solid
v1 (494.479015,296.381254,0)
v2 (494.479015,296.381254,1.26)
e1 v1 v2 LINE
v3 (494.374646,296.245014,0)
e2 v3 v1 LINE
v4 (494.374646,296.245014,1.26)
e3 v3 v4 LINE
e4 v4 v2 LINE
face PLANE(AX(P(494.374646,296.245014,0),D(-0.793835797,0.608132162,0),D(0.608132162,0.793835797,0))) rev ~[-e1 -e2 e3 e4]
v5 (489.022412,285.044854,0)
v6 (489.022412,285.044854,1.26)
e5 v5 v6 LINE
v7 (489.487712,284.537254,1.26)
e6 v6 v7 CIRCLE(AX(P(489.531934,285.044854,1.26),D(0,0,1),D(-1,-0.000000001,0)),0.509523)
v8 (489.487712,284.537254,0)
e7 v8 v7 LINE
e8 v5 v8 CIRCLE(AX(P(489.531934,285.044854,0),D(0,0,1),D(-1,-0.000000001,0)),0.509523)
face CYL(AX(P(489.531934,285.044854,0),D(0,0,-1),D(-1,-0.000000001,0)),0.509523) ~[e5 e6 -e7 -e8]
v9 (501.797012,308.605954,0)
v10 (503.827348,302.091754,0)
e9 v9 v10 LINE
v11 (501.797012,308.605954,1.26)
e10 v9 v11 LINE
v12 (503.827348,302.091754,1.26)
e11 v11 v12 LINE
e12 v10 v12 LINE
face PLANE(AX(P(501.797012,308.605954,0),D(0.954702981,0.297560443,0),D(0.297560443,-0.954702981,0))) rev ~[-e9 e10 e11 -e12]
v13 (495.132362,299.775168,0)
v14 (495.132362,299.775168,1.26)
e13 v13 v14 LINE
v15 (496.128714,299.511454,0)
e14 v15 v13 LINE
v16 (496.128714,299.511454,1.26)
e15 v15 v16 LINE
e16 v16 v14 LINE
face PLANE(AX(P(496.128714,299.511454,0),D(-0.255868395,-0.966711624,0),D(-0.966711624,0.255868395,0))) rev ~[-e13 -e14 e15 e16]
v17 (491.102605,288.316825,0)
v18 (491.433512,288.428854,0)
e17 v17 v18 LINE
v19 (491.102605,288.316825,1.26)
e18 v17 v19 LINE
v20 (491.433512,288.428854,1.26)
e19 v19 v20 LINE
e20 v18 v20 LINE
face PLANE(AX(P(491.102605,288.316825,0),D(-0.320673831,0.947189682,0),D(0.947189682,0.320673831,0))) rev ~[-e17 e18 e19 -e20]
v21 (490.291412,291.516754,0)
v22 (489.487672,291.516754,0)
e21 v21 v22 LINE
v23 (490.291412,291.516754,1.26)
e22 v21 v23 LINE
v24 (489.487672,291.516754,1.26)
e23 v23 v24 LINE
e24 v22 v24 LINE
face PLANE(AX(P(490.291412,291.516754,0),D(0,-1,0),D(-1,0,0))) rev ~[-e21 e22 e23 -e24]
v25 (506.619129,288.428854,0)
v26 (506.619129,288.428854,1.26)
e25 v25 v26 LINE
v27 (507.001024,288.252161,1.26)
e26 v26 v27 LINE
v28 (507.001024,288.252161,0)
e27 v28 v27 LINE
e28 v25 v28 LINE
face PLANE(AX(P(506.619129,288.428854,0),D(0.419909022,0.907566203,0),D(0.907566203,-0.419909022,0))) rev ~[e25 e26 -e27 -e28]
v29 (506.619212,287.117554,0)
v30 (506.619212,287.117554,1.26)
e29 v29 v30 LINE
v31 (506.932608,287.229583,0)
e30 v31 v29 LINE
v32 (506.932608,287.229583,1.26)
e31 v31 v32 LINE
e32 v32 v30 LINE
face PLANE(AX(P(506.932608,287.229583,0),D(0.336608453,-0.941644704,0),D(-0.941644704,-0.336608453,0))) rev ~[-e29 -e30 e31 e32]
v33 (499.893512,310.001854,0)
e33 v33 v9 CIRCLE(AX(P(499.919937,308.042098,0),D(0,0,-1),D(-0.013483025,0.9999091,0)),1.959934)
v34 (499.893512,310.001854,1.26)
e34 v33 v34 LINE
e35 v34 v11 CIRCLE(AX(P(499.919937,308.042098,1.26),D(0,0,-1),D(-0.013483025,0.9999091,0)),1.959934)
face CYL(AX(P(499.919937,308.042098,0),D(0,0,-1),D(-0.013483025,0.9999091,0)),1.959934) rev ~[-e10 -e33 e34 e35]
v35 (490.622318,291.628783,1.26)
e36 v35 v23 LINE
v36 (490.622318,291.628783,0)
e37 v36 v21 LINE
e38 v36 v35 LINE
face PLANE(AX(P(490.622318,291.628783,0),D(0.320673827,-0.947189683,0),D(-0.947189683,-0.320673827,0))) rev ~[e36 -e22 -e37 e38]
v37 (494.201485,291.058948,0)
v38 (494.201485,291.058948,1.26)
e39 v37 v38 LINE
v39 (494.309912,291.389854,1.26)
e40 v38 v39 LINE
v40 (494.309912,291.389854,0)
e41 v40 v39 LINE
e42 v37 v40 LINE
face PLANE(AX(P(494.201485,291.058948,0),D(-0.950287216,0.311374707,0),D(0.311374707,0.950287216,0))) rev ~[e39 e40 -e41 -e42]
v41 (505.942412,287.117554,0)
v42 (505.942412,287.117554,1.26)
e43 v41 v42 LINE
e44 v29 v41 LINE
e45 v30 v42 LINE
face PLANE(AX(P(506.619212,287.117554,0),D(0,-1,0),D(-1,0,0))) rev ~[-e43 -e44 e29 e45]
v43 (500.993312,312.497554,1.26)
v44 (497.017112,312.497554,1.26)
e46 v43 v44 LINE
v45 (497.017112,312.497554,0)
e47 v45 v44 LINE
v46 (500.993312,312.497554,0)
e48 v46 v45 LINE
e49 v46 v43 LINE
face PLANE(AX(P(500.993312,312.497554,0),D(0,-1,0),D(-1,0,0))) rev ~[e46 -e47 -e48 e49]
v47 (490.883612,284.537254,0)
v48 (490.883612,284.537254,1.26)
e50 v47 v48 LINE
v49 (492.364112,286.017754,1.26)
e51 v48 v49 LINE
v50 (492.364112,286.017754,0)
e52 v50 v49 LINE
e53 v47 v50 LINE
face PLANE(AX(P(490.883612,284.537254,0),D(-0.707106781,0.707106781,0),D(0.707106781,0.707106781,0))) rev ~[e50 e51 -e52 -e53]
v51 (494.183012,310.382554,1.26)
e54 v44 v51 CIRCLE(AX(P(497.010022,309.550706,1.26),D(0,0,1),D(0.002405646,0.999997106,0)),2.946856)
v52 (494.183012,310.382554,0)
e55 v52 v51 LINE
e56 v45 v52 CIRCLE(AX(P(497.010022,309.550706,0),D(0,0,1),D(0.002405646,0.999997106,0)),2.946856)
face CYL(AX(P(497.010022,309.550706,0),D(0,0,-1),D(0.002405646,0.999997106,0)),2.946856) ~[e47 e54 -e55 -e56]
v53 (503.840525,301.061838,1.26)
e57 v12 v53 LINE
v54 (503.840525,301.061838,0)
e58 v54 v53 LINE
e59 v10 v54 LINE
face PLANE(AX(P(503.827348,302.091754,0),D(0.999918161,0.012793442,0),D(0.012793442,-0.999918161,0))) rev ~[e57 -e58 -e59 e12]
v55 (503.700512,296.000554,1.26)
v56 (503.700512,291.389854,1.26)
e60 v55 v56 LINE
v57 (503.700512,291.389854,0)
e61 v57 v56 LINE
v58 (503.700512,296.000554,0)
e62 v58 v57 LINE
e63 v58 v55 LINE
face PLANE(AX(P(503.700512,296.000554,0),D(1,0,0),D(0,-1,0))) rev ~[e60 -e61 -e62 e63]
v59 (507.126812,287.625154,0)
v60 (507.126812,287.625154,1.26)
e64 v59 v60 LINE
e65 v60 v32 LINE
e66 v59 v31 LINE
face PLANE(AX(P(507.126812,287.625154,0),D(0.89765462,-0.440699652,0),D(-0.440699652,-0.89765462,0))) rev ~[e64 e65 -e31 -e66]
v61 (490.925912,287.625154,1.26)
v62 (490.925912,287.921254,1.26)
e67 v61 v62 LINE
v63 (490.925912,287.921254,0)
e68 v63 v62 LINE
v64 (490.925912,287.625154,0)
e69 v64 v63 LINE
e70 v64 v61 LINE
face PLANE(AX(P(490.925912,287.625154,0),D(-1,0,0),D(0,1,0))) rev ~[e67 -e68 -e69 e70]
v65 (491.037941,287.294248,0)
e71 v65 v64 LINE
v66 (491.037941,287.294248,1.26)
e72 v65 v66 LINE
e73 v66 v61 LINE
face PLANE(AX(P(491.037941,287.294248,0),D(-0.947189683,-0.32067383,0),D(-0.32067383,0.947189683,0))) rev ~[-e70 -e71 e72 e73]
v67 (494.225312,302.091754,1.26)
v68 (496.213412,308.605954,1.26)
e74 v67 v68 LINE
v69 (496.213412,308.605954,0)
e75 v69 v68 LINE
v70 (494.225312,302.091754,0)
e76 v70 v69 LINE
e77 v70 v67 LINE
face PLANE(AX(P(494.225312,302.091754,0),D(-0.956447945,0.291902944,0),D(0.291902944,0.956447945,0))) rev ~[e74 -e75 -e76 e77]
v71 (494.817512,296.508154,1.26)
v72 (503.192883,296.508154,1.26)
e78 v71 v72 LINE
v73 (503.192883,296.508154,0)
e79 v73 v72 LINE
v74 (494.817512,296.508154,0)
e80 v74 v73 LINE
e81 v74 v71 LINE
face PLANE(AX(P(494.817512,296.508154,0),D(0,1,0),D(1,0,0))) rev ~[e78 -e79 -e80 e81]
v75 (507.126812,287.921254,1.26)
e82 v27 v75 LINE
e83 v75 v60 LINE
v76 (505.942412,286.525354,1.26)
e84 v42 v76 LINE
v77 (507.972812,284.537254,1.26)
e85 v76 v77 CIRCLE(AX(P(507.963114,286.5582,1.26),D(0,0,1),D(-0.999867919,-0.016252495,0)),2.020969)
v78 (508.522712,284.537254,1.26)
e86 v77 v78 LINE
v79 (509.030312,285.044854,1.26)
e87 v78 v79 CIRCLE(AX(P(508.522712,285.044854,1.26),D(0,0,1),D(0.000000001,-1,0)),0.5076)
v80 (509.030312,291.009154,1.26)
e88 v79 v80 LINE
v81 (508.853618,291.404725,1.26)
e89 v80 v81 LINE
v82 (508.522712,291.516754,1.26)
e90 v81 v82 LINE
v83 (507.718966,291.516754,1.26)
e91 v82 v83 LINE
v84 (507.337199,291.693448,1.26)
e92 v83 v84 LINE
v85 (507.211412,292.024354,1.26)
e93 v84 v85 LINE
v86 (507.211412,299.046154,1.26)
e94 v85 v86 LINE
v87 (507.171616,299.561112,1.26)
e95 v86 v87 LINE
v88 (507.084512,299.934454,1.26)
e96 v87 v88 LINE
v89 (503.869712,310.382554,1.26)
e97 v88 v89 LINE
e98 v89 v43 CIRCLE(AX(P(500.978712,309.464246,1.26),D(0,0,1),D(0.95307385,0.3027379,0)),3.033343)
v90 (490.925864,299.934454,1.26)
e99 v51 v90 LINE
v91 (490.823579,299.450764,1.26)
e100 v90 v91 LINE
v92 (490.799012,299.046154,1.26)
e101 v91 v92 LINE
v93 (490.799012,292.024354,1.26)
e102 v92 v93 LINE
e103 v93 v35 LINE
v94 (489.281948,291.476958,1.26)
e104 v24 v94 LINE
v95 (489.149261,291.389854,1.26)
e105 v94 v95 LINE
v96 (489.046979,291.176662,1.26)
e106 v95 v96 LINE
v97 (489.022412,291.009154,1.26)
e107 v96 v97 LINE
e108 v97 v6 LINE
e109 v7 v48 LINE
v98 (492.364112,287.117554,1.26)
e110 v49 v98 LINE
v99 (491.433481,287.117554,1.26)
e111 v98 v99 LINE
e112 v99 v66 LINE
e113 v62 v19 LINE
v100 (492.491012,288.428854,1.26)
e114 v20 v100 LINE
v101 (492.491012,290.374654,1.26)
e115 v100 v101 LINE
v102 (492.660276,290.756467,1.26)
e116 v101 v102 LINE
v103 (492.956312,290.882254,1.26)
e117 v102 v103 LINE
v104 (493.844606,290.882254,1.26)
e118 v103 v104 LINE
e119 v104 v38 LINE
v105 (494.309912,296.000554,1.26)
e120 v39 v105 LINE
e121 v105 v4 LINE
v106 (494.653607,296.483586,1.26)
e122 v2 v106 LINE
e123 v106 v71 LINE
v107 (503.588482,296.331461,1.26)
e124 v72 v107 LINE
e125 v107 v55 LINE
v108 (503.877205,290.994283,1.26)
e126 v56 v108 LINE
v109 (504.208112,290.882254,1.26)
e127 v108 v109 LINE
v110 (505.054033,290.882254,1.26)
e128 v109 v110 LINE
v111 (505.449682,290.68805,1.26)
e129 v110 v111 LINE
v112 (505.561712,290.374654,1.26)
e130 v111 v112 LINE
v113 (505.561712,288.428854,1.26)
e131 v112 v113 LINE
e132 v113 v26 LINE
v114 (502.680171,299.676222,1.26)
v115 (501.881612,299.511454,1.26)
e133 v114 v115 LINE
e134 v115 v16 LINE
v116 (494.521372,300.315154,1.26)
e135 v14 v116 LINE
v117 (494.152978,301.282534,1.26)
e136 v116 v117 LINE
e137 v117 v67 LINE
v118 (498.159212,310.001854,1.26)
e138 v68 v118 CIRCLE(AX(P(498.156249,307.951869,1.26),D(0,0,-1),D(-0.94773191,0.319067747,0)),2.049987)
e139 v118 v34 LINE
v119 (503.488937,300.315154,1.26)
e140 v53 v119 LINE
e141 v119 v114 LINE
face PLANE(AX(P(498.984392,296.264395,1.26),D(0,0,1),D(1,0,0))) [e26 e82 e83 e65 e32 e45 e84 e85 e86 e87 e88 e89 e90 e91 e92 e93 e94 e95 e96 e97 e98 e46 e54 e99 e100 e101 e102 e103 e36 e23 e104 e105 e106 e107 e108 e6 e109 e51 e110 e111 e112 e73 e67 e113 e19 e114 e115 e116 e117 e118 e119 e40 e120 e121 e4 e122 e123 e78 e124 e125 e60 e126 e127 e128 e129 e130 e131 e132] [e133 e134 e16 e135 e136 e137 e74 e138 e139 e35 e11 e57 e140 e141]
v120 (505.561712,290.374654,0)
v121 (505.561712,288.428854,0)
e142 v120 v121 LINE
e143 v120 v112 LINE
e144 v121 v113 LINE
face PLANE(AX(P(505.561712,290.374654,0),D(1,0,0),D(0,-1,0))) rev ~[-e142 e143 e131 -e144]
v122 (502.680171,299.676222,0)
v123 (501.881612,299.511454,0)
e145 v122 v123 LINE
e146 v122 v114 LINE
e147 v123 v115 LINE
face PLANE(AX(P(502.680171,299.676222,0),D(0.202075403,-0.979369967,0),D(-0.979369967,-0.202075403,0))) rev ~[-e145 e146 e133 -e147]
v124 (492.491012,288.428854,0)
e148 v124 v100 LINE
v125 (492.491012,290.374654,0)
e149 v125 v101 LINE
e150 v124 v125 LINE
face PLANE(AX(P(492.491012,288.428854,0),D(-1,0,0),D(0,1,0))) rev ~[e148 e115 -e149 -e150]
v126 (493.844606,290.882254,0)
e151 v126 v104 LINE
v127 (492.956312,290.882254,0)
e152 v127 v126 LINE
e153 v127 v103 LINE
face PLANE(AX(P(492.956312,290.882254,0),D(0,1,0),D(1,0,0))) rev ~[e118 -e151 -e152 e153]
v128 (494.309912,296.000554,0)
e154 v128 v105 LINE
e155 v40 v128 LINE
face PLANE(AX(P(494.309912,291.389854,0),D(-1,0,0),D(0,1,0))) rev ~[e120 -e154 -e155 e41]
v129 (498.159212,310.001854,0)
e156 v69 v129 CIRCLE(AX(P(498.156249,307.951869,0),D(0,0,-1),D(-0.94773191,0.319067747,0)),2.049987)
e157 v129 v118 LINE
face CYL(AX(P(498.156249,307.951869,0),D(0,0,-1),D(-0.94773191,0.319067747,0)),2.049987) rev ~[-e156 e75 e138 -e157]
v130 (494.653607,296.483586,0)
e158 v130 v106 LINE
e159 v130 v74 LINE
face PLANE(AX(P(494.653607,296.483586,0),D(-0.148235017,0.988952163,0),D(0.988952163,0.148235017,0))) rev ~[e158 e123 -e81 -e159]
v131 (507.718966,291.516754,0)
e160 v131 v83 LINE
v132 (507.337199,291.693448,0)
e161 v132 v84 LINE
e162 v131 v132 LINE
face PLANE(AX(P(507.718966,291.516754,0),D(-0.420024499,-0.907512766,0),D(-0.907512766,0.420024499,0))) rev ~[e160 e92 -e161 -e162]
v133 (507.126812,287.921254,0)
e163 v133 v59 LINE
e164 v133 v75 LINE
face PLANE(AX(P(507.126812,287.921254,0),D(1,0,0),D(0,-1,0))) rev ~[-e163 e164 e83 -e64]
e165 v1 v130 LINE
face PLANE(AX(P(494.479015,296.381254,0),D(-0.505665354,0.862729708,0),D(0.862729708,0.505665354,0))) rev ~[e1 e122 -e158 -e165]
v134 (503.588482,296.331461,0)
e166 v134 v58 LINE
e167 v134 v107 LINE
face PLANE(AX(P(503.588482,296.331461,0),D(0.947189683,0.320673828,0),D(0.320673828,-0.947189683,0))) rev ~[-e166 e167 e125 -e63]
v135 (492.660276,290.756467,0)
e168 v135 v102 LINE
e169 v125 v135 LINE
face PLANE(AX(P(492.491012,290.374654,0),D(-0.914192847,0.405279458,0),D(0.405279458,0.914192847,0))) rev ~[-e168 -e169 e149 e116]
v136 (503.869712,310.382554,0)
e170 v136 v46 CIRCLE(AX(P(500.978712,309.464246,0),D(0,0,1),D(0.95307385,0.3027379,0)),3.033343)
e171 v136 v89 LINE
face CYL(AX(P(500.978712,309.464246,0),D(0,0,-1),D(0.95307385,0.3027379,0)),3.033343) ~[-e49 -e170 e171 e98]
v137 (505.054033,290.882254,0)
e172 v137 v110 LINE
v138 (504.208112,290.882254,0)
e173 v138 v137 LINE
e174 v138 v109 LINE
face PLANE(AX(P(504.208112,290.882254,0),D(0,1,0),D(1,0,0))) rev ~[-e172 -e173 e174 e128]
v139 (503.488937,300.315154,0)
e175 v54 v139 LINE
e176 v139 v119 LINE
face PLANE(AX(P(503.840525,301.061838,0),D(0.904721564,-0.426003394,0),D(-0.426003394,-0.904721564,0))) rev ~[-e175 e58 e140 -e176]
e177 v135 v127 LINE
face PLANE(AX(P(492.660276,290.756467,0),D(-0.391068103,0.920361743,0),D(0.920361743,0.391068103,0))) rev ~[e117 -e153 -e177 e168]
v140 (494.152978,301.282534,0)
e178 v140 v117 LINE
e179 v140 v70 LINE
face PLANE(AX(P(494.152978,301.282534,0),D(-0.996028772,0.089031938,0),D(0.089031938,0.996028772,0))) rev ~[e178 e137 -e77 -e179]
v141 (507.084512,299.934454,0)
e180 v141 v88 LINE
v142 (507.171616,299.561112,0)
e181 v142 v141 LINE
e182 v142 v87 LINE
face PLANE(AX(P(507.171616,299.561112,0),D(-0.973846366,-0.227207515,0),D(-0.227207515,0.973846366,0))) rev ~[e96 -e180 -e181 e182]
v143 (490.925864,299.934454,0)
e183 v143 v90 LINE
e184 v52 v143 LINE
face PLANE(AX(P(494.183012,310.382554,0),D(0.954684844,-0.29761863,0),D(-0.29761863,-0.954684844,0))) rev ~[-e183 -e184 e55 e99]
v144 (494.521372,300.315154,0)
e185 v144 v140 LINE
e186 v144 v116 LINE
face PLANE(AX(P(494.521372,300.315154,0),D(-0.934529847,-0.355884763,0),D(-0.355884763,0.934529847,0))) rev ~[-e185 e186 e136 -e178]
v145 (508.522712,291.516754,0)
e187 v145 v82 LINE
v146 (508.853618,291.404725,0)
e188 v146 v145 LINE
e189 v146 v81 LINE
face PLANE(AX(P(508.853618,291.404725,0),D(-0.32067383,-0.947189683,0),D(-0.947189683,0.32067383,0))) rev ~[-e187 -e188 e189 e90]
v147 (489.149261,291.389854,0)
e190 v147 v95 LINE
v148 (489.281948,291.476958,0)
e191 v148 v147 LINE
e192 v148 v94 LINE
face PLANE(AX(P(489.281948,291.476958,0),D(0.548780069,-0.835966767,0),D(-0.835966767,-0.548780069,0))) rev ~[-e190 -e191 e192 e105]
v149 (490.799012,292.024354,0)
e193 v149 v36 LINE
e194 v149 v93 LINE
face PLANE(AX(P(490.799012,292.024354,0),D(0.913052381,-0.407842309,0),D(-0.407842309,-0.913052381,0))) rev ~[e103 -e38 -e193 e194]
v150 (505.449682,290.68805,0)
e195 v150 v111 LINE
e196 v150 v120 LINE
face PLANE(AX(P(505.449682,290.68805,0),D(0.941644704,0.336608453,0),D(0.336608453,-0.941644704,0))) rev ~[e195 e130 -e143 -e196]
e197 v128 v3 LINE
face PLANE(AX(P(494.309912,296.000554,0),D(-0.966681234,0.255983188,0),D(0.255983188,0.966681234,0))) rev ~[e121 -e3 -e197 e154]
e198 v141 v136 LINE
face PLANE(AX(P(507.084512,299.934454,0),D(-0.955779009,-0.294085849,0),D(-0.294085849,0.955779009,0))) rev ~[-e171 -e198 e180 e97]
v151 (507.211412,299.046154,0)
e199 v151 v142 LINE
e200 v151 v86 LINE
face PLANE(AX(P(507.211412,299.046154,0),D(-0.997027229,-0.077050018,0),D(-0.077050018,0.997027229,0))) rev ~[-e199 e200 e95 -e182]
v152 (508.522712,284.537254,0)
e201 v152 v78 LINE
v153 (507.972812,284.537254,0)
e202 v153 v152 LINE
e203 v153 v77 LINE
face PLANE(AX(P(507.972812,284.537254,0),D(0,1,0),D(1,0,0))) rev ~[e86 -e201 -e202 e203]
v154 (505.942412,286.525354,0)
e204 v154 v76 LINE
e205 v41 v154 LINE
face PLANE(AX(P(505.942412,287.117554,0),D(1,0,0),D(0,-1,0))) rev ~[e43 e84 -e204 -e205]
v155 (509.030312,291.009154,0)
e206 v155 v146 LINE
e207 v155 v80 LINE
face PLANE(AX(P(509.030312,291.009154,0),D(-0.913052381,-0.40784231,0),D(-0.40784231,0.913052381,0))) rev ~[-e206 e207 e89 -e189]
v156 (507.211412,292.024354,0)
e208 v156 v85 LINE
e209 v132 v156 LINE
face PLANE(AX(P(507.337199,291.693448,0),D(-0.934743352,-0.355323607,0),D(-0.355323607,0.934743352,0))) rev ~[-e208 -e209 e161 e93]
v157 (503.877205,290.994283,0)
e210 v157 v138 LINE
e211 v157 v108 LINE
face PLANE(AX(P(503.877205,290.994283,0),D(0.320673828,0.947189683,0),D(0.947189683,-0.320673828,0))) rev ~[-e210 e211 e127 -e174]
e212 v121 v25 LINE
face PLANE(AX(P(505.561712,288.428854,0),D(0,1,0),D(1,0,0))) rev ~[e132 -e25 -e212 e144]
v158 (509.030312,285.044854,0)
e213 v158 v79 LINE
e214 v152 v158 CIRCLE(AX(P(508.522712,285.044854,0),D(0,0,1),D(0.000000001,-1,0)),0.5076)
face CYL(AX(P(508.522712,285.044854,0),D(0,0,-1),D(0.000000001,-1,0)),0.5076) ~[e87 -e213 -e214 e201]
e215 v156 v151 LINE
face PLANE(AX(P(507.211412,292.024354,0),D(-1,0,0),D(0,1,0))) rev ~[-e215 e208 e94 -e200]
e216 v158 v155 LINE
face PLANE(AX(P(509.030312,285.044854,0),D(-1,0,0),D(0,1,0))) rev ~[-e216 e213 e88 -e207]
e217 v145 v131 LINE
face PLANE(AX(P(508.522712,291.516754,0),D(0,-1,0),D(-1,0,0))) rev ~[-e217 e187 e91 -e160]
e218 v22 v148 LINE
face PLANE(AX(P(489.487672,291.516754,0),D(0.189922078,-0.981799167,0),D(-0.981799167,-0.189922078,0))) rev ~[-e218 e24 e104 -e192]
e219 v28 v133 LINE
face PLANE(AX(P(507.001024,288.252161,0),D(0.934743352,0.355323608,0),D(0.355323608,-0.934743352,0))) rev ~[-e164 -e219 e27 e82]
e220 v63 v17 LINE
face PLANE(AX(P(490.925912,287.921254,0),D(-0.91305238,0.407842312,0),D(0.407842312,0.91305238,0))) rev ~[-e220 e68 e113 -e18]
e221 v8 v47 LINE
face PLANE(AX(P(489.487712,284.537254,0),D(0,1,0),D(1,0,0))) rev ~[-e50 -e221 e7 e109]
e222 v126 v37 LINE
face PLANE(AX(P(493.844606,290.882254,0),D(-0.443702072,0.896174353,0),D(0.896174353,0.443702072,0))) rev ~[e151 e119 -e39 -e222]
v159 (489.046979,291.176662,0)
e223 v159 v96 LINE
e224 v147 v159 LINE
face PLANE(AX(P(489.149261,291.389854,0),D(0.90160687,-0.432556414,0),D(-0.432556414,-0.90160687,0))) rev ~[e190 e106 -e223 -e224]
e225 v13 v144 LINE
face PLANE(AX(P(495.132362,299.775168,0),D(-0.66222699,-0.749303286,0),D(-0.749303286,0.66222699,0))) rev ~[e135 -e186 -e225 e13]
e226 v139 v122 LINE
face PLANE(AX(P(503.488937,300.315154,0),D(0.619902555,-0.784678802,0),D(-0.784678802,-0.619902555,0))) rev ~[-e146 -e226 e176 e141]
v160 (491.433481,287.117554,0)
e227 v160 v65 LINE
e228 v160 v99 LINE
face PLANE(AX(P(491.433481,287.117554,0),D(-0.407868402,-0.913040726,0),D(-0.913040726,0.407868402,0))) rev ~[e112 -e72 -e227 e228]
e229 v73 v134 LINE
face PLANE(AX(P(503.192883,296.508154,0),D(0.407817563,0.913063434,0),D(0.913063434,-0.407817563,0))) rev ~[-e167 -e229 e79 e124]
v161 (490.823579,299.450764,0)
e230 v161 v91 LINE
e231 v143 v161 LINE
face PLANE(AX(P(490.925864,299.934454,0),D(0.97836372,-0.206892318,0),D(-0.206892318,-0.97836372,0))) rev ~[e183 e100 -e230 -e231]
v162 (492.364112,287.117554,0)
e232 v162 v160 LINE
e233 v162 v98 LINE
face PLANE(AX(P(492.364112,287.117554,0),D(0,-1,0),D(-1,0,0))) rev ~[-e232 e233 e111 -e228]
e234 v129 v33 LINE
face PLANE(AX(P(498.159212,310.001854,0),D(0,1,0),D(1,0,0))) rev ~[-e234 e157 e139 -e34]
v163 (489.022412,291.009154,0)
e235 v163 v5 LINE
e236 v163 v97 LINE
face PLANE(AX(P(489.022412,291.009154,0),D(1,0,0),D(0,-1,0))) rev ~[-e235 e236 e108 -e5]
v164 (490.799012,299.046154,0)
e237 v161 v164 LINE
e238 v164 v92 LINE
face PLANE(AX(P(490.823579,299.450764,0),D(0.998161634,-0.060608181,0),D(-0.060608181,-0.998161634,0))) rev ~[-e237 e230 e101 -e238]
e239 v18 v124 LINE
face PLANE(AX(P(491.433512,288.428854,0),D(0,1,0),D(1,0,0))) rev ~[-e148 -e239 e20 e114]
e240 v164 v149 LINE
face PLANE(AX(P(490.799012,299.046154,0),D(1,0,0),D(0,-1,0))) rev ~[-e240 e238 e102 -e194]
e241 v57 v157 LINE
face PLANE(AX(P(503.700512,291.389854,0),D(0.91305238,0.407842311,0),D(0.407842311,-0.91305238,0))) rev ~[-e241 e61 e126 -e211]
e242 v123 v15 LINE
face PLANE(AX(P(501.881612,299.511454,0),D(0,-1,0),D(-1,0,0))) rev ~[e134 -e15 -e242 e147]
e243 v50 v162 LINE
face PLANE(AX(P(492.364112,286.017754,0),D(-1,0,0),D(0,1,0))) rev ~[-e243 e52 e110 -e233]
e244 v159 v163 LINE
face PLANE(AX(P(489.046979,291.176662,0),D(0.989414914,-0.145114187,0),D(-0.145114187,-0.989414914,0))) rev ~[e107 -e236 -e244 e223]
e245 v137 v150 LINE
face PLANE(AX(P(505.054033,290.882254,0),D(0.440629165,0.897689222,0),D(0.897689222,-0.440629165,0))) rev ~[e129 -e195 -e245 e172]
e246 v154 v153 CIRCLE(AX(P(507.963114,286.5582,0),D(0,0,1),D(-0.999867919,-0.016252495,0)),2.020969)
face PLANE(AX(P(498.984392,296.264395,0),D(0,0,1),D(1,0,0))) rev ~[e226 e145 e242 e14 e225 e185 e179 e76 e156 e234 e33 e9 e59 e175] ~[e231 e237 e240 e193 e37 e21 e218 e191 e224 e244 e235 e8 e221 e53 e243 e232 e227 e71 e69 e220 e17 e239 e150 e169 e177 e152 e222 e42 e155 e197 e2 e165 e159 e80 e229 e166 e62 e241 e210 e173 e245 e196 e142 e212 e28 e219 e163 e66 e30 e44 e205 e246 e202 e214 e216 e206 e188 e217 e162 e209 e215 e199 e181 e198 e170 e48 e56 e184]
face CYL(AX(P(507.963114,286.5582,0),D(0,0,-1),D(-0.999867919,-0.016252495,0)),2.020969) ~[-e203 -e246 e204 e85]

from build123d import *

# Parameters (mm, degrees)
EXTRUDE_1_DEPTH = 1.26


with BuildPart() as part:
    # Model → 凸台-拉伸1 (new body)
    with BuildSketch(Plane.XY):
        with BuildLine():
            Line((490.799011507, 297.269554061), (490.799011507, 293.800954061))
            Line((490.799011507, 293.800954061), (490.799011507, 292.024354061))
            Line((490.799011507, 292.024354061), (490.622317978, 291.628783411))
            Line((490.622317978, 291.628783411), (490.291411507, 291.516754061))
            Line((490.291411507, 291.516754061), (489.487672027, 291.516754061))
            Line((489.487672027, 291.516754061), (489.281948064, 291.476958221))
            Line((489.281948064, 291.476958221), (489.149260696, 291.389854061))
            Line((489.149260696, 291.389854061), (489.046979347, 291.176662061))
            Line((489.046979347, 291.176662061), (489.022411507, 291.009154061))
            Line((489.022411507, 291.009154061), (489.022411507, 285.044854061))
            ThreePointArc((489.022411507, 285.044854061), (489.156337447, 284.700557005), (489.487711507, 284.537254061))
            Line((489.487711507, 284.537254061), (490.883611507, 284.537254061))
            Line((490.883611507, 284.537254061), (492.364111507, 286.017754061))
            Line((492.364111507, 286.017754061), (492.364111507, 287.117554061))
            Line((492.364111507, 287.117554061), (491.433481153, 287.117554061))
            Line((491.433481153, 287.117554061), (491.037940858, 287.29424759))
            Line((491.037940858, 287.29424759), (490.925911507, 287.625154061))
            Line((490.925911507, 287.625154061), (490.925911507, 287.921254061))
            Line((490.925911507, 287.921254061), (491.102605037, 288.31682471))
            Line((491.102605037, 288.31682471), (491.433511507, 288.428854061))
            Line((491.433511507, 288.428854061), (492.491011507, 288.428854061))
            Line((492.491011507, 288.428854061), (492.491011507, 290.374654061))
            Line((492.491011507, 290.374654061), (492.66027648, 290.75646672))
            Line((492.66027648, 290.75646672), (492.956311507, 290.882254061))
            Line((492.956311507, 290.882254061), (493.84460586, 290.882254061))
            Line((493.84460586, 290.882254061), (494.20148544, 291.05894759))
            Line((494.20148544, 291.05894759), (494.309911507, 291.389854061))
            Line((494.309911507, 291.389854061), (494.309911507, 296.000554061))
            Line((494.309911507, 296.000554061), (494.374646074, 296.245014221))
            Line((494.374646074, 296.245014221), (494.479015049, 296.381254061))
            Line((494.479015049, 296.381254061), (494.65360679, 296.483586221))
            Line((494.65360679, 296.483586221), (494.817511507, 296.508154061))
            Line((494.817511507, 296.508154061), (503.192882713, 296.508154061))
            Line((503.192882713, 296.508154061), (503.588482157, 296.331460531))
            Line((503.588482157, 296.331460531), (503.700511507, 296.000554061))
            Line((503.700511507, 296.000554061), (503.700511507, 291.389854061))
            Line((503.700511507, 291.389854061), (503.877205037, 290.994283411))
            Line((503.877205037, 290.994283411), (504.208111507, 290.882254061))
            Line((504.208111507, 290.882254061), (505.054032978, 290.882254061))
            Line((505.054032978, 290.882254061), (505.449682157, 290.688050362))
            Line((505.449682157, 290.688050362), (505.561711507, 290.374654061))
            Line((505.561711507, 290.374654061), (505.561711507, 288.428854061))
            Line((505.561711507, 288.428854061), (506.619129356, 288.428854061))
            Line((506.619129356, 288.428854061), (507.001024166, 288.252160531))
            Line((507.001024166, 288.252160531), (507.126811507, 287.921254061))
            Line((507.126811507, 287.921254061), (507.126811507, 287.625154061))
            Line((507.126811507, 287.625154061), (506.932607808, 287.229583411))
            Line((506.932607808, 287.229583411), (506.619211507, 287.117554061))
            Line((506.619211507, 287.117554061), (505.942411507, 287.117554061))
            Line((505.942411507, 287.117554061), (505.942411507, 286.525354055))
            ThreePointArc((505.942411507, 286.525354055), (506.549193576, 285.114196381), (507.972811507, 284.537254055))
            Line((507.972811507, 284.537254055), (508.522711502, 284.537254055))
            ThreePointArc((508.522711502, 284.537254055), (508.881638908, 284.685926655), (509.030311507, 285.044854061))
            Line((509.030311507, 285.044854061), (509.030311507, 291.009154061))
            Line((509.030311507, 291.009154061), (508.853617978, 291.40472471))
            Line((508.853617978, 291.40472471), (508.522711507, 291.516754061))
            Line((508.522711507, 291.516754061), (507.718966182, 291.516754061))
            Line((507.718966182, 291.516754061), (507.337198848, 291.69344759))
            Line((507.337198848, 291.69344759), (507.211411507, 292.024354061))
            Line((507.211411507, 292.024354061), (507.211411507, 299.046154061))
            Line((507.211411507, 299.046154061), (507.171615667, 299.56111223))
            Line((507.171615667, 299.56111223), (507.084511507, 299.934454061))
            Line((507.084511507, 299.934454061), (503.869711507, 310.382554061))
            ThreePointArc((503.869711507, 310.382554061), (502.775635028, 311.908062049), (500.993311507, 312.497554061))
            Line((500.993311507, 312.497554061), (497.017111507, 312.497554061))
            ThreePointArc((497.017111507, 312.497554061), (495.247553689, 311.912414538), (494.183011507, 310.382554061))
            Line((494.183011507, 310.382554061), (490.925864157, 299.934454061))
            Line((490.925864157, 299.934454061), (490.823579347, 299.450764051))
            Line((490.823579347, 299.450764051), (490.799011507, 299.046154061))
            Line((490.799011507, 299.046154061), (490.799011507, 297.269554061))
        make_face()
        with BuildLine():
            Line((499.005211507, 310.001854061), (499.893511507, 310.001854061))
            ThreePointArc((499.893511507, 310.001854061), (501.078970997, 309.62259882), (501.797011507, 308.605954061))
            Line((501.797011507, 308.605954061), (503.827347931, 302.091754061))
            Line((503.827347931, 302.091754061), (503.840525184, 301.061837722))
            Line((503.840525184, 301.061837722), (503.4889366, 300.315154061))
            Line((503.4889366, 300.315154061), (502.680170534, 299.676222374))
            Line((502.680170534, 299.676222374), (501.881611507, 299.511454061))
            Line((501.881611507, 299.511454061), (499.005211507, 299.511454061))
            Line((499.005211507, 299.511454061), (496.12871426, 299.511454061))
            Line((496.12871426, 299.511454061), (495.132361574, 299.775167827))
            Line((495.132361574, 299.775167827), (494.521372494, 300.315154061))
            Line((494.521372494, 300.315154061), (494.15297783, 301.28253408))
            Line((494.15297783, 301.28253408), (494.225311507, 302.091754061))
            Line((494.225311507, 302.091754061), (496.213411507, 308.605954061))
            ThreePointArc((496.213411507, 308.605954061), (496.961295967, 309.617562087), (498.159211507, 310.001854061))
            Line((498.159211507, 310.001854061), (499.005211507, 310.001854061))
        make_face(mode=Mode.SUBTRACT)
    extrude(amount=EXTRUDE_1_DEPTH)


solid = part.part
